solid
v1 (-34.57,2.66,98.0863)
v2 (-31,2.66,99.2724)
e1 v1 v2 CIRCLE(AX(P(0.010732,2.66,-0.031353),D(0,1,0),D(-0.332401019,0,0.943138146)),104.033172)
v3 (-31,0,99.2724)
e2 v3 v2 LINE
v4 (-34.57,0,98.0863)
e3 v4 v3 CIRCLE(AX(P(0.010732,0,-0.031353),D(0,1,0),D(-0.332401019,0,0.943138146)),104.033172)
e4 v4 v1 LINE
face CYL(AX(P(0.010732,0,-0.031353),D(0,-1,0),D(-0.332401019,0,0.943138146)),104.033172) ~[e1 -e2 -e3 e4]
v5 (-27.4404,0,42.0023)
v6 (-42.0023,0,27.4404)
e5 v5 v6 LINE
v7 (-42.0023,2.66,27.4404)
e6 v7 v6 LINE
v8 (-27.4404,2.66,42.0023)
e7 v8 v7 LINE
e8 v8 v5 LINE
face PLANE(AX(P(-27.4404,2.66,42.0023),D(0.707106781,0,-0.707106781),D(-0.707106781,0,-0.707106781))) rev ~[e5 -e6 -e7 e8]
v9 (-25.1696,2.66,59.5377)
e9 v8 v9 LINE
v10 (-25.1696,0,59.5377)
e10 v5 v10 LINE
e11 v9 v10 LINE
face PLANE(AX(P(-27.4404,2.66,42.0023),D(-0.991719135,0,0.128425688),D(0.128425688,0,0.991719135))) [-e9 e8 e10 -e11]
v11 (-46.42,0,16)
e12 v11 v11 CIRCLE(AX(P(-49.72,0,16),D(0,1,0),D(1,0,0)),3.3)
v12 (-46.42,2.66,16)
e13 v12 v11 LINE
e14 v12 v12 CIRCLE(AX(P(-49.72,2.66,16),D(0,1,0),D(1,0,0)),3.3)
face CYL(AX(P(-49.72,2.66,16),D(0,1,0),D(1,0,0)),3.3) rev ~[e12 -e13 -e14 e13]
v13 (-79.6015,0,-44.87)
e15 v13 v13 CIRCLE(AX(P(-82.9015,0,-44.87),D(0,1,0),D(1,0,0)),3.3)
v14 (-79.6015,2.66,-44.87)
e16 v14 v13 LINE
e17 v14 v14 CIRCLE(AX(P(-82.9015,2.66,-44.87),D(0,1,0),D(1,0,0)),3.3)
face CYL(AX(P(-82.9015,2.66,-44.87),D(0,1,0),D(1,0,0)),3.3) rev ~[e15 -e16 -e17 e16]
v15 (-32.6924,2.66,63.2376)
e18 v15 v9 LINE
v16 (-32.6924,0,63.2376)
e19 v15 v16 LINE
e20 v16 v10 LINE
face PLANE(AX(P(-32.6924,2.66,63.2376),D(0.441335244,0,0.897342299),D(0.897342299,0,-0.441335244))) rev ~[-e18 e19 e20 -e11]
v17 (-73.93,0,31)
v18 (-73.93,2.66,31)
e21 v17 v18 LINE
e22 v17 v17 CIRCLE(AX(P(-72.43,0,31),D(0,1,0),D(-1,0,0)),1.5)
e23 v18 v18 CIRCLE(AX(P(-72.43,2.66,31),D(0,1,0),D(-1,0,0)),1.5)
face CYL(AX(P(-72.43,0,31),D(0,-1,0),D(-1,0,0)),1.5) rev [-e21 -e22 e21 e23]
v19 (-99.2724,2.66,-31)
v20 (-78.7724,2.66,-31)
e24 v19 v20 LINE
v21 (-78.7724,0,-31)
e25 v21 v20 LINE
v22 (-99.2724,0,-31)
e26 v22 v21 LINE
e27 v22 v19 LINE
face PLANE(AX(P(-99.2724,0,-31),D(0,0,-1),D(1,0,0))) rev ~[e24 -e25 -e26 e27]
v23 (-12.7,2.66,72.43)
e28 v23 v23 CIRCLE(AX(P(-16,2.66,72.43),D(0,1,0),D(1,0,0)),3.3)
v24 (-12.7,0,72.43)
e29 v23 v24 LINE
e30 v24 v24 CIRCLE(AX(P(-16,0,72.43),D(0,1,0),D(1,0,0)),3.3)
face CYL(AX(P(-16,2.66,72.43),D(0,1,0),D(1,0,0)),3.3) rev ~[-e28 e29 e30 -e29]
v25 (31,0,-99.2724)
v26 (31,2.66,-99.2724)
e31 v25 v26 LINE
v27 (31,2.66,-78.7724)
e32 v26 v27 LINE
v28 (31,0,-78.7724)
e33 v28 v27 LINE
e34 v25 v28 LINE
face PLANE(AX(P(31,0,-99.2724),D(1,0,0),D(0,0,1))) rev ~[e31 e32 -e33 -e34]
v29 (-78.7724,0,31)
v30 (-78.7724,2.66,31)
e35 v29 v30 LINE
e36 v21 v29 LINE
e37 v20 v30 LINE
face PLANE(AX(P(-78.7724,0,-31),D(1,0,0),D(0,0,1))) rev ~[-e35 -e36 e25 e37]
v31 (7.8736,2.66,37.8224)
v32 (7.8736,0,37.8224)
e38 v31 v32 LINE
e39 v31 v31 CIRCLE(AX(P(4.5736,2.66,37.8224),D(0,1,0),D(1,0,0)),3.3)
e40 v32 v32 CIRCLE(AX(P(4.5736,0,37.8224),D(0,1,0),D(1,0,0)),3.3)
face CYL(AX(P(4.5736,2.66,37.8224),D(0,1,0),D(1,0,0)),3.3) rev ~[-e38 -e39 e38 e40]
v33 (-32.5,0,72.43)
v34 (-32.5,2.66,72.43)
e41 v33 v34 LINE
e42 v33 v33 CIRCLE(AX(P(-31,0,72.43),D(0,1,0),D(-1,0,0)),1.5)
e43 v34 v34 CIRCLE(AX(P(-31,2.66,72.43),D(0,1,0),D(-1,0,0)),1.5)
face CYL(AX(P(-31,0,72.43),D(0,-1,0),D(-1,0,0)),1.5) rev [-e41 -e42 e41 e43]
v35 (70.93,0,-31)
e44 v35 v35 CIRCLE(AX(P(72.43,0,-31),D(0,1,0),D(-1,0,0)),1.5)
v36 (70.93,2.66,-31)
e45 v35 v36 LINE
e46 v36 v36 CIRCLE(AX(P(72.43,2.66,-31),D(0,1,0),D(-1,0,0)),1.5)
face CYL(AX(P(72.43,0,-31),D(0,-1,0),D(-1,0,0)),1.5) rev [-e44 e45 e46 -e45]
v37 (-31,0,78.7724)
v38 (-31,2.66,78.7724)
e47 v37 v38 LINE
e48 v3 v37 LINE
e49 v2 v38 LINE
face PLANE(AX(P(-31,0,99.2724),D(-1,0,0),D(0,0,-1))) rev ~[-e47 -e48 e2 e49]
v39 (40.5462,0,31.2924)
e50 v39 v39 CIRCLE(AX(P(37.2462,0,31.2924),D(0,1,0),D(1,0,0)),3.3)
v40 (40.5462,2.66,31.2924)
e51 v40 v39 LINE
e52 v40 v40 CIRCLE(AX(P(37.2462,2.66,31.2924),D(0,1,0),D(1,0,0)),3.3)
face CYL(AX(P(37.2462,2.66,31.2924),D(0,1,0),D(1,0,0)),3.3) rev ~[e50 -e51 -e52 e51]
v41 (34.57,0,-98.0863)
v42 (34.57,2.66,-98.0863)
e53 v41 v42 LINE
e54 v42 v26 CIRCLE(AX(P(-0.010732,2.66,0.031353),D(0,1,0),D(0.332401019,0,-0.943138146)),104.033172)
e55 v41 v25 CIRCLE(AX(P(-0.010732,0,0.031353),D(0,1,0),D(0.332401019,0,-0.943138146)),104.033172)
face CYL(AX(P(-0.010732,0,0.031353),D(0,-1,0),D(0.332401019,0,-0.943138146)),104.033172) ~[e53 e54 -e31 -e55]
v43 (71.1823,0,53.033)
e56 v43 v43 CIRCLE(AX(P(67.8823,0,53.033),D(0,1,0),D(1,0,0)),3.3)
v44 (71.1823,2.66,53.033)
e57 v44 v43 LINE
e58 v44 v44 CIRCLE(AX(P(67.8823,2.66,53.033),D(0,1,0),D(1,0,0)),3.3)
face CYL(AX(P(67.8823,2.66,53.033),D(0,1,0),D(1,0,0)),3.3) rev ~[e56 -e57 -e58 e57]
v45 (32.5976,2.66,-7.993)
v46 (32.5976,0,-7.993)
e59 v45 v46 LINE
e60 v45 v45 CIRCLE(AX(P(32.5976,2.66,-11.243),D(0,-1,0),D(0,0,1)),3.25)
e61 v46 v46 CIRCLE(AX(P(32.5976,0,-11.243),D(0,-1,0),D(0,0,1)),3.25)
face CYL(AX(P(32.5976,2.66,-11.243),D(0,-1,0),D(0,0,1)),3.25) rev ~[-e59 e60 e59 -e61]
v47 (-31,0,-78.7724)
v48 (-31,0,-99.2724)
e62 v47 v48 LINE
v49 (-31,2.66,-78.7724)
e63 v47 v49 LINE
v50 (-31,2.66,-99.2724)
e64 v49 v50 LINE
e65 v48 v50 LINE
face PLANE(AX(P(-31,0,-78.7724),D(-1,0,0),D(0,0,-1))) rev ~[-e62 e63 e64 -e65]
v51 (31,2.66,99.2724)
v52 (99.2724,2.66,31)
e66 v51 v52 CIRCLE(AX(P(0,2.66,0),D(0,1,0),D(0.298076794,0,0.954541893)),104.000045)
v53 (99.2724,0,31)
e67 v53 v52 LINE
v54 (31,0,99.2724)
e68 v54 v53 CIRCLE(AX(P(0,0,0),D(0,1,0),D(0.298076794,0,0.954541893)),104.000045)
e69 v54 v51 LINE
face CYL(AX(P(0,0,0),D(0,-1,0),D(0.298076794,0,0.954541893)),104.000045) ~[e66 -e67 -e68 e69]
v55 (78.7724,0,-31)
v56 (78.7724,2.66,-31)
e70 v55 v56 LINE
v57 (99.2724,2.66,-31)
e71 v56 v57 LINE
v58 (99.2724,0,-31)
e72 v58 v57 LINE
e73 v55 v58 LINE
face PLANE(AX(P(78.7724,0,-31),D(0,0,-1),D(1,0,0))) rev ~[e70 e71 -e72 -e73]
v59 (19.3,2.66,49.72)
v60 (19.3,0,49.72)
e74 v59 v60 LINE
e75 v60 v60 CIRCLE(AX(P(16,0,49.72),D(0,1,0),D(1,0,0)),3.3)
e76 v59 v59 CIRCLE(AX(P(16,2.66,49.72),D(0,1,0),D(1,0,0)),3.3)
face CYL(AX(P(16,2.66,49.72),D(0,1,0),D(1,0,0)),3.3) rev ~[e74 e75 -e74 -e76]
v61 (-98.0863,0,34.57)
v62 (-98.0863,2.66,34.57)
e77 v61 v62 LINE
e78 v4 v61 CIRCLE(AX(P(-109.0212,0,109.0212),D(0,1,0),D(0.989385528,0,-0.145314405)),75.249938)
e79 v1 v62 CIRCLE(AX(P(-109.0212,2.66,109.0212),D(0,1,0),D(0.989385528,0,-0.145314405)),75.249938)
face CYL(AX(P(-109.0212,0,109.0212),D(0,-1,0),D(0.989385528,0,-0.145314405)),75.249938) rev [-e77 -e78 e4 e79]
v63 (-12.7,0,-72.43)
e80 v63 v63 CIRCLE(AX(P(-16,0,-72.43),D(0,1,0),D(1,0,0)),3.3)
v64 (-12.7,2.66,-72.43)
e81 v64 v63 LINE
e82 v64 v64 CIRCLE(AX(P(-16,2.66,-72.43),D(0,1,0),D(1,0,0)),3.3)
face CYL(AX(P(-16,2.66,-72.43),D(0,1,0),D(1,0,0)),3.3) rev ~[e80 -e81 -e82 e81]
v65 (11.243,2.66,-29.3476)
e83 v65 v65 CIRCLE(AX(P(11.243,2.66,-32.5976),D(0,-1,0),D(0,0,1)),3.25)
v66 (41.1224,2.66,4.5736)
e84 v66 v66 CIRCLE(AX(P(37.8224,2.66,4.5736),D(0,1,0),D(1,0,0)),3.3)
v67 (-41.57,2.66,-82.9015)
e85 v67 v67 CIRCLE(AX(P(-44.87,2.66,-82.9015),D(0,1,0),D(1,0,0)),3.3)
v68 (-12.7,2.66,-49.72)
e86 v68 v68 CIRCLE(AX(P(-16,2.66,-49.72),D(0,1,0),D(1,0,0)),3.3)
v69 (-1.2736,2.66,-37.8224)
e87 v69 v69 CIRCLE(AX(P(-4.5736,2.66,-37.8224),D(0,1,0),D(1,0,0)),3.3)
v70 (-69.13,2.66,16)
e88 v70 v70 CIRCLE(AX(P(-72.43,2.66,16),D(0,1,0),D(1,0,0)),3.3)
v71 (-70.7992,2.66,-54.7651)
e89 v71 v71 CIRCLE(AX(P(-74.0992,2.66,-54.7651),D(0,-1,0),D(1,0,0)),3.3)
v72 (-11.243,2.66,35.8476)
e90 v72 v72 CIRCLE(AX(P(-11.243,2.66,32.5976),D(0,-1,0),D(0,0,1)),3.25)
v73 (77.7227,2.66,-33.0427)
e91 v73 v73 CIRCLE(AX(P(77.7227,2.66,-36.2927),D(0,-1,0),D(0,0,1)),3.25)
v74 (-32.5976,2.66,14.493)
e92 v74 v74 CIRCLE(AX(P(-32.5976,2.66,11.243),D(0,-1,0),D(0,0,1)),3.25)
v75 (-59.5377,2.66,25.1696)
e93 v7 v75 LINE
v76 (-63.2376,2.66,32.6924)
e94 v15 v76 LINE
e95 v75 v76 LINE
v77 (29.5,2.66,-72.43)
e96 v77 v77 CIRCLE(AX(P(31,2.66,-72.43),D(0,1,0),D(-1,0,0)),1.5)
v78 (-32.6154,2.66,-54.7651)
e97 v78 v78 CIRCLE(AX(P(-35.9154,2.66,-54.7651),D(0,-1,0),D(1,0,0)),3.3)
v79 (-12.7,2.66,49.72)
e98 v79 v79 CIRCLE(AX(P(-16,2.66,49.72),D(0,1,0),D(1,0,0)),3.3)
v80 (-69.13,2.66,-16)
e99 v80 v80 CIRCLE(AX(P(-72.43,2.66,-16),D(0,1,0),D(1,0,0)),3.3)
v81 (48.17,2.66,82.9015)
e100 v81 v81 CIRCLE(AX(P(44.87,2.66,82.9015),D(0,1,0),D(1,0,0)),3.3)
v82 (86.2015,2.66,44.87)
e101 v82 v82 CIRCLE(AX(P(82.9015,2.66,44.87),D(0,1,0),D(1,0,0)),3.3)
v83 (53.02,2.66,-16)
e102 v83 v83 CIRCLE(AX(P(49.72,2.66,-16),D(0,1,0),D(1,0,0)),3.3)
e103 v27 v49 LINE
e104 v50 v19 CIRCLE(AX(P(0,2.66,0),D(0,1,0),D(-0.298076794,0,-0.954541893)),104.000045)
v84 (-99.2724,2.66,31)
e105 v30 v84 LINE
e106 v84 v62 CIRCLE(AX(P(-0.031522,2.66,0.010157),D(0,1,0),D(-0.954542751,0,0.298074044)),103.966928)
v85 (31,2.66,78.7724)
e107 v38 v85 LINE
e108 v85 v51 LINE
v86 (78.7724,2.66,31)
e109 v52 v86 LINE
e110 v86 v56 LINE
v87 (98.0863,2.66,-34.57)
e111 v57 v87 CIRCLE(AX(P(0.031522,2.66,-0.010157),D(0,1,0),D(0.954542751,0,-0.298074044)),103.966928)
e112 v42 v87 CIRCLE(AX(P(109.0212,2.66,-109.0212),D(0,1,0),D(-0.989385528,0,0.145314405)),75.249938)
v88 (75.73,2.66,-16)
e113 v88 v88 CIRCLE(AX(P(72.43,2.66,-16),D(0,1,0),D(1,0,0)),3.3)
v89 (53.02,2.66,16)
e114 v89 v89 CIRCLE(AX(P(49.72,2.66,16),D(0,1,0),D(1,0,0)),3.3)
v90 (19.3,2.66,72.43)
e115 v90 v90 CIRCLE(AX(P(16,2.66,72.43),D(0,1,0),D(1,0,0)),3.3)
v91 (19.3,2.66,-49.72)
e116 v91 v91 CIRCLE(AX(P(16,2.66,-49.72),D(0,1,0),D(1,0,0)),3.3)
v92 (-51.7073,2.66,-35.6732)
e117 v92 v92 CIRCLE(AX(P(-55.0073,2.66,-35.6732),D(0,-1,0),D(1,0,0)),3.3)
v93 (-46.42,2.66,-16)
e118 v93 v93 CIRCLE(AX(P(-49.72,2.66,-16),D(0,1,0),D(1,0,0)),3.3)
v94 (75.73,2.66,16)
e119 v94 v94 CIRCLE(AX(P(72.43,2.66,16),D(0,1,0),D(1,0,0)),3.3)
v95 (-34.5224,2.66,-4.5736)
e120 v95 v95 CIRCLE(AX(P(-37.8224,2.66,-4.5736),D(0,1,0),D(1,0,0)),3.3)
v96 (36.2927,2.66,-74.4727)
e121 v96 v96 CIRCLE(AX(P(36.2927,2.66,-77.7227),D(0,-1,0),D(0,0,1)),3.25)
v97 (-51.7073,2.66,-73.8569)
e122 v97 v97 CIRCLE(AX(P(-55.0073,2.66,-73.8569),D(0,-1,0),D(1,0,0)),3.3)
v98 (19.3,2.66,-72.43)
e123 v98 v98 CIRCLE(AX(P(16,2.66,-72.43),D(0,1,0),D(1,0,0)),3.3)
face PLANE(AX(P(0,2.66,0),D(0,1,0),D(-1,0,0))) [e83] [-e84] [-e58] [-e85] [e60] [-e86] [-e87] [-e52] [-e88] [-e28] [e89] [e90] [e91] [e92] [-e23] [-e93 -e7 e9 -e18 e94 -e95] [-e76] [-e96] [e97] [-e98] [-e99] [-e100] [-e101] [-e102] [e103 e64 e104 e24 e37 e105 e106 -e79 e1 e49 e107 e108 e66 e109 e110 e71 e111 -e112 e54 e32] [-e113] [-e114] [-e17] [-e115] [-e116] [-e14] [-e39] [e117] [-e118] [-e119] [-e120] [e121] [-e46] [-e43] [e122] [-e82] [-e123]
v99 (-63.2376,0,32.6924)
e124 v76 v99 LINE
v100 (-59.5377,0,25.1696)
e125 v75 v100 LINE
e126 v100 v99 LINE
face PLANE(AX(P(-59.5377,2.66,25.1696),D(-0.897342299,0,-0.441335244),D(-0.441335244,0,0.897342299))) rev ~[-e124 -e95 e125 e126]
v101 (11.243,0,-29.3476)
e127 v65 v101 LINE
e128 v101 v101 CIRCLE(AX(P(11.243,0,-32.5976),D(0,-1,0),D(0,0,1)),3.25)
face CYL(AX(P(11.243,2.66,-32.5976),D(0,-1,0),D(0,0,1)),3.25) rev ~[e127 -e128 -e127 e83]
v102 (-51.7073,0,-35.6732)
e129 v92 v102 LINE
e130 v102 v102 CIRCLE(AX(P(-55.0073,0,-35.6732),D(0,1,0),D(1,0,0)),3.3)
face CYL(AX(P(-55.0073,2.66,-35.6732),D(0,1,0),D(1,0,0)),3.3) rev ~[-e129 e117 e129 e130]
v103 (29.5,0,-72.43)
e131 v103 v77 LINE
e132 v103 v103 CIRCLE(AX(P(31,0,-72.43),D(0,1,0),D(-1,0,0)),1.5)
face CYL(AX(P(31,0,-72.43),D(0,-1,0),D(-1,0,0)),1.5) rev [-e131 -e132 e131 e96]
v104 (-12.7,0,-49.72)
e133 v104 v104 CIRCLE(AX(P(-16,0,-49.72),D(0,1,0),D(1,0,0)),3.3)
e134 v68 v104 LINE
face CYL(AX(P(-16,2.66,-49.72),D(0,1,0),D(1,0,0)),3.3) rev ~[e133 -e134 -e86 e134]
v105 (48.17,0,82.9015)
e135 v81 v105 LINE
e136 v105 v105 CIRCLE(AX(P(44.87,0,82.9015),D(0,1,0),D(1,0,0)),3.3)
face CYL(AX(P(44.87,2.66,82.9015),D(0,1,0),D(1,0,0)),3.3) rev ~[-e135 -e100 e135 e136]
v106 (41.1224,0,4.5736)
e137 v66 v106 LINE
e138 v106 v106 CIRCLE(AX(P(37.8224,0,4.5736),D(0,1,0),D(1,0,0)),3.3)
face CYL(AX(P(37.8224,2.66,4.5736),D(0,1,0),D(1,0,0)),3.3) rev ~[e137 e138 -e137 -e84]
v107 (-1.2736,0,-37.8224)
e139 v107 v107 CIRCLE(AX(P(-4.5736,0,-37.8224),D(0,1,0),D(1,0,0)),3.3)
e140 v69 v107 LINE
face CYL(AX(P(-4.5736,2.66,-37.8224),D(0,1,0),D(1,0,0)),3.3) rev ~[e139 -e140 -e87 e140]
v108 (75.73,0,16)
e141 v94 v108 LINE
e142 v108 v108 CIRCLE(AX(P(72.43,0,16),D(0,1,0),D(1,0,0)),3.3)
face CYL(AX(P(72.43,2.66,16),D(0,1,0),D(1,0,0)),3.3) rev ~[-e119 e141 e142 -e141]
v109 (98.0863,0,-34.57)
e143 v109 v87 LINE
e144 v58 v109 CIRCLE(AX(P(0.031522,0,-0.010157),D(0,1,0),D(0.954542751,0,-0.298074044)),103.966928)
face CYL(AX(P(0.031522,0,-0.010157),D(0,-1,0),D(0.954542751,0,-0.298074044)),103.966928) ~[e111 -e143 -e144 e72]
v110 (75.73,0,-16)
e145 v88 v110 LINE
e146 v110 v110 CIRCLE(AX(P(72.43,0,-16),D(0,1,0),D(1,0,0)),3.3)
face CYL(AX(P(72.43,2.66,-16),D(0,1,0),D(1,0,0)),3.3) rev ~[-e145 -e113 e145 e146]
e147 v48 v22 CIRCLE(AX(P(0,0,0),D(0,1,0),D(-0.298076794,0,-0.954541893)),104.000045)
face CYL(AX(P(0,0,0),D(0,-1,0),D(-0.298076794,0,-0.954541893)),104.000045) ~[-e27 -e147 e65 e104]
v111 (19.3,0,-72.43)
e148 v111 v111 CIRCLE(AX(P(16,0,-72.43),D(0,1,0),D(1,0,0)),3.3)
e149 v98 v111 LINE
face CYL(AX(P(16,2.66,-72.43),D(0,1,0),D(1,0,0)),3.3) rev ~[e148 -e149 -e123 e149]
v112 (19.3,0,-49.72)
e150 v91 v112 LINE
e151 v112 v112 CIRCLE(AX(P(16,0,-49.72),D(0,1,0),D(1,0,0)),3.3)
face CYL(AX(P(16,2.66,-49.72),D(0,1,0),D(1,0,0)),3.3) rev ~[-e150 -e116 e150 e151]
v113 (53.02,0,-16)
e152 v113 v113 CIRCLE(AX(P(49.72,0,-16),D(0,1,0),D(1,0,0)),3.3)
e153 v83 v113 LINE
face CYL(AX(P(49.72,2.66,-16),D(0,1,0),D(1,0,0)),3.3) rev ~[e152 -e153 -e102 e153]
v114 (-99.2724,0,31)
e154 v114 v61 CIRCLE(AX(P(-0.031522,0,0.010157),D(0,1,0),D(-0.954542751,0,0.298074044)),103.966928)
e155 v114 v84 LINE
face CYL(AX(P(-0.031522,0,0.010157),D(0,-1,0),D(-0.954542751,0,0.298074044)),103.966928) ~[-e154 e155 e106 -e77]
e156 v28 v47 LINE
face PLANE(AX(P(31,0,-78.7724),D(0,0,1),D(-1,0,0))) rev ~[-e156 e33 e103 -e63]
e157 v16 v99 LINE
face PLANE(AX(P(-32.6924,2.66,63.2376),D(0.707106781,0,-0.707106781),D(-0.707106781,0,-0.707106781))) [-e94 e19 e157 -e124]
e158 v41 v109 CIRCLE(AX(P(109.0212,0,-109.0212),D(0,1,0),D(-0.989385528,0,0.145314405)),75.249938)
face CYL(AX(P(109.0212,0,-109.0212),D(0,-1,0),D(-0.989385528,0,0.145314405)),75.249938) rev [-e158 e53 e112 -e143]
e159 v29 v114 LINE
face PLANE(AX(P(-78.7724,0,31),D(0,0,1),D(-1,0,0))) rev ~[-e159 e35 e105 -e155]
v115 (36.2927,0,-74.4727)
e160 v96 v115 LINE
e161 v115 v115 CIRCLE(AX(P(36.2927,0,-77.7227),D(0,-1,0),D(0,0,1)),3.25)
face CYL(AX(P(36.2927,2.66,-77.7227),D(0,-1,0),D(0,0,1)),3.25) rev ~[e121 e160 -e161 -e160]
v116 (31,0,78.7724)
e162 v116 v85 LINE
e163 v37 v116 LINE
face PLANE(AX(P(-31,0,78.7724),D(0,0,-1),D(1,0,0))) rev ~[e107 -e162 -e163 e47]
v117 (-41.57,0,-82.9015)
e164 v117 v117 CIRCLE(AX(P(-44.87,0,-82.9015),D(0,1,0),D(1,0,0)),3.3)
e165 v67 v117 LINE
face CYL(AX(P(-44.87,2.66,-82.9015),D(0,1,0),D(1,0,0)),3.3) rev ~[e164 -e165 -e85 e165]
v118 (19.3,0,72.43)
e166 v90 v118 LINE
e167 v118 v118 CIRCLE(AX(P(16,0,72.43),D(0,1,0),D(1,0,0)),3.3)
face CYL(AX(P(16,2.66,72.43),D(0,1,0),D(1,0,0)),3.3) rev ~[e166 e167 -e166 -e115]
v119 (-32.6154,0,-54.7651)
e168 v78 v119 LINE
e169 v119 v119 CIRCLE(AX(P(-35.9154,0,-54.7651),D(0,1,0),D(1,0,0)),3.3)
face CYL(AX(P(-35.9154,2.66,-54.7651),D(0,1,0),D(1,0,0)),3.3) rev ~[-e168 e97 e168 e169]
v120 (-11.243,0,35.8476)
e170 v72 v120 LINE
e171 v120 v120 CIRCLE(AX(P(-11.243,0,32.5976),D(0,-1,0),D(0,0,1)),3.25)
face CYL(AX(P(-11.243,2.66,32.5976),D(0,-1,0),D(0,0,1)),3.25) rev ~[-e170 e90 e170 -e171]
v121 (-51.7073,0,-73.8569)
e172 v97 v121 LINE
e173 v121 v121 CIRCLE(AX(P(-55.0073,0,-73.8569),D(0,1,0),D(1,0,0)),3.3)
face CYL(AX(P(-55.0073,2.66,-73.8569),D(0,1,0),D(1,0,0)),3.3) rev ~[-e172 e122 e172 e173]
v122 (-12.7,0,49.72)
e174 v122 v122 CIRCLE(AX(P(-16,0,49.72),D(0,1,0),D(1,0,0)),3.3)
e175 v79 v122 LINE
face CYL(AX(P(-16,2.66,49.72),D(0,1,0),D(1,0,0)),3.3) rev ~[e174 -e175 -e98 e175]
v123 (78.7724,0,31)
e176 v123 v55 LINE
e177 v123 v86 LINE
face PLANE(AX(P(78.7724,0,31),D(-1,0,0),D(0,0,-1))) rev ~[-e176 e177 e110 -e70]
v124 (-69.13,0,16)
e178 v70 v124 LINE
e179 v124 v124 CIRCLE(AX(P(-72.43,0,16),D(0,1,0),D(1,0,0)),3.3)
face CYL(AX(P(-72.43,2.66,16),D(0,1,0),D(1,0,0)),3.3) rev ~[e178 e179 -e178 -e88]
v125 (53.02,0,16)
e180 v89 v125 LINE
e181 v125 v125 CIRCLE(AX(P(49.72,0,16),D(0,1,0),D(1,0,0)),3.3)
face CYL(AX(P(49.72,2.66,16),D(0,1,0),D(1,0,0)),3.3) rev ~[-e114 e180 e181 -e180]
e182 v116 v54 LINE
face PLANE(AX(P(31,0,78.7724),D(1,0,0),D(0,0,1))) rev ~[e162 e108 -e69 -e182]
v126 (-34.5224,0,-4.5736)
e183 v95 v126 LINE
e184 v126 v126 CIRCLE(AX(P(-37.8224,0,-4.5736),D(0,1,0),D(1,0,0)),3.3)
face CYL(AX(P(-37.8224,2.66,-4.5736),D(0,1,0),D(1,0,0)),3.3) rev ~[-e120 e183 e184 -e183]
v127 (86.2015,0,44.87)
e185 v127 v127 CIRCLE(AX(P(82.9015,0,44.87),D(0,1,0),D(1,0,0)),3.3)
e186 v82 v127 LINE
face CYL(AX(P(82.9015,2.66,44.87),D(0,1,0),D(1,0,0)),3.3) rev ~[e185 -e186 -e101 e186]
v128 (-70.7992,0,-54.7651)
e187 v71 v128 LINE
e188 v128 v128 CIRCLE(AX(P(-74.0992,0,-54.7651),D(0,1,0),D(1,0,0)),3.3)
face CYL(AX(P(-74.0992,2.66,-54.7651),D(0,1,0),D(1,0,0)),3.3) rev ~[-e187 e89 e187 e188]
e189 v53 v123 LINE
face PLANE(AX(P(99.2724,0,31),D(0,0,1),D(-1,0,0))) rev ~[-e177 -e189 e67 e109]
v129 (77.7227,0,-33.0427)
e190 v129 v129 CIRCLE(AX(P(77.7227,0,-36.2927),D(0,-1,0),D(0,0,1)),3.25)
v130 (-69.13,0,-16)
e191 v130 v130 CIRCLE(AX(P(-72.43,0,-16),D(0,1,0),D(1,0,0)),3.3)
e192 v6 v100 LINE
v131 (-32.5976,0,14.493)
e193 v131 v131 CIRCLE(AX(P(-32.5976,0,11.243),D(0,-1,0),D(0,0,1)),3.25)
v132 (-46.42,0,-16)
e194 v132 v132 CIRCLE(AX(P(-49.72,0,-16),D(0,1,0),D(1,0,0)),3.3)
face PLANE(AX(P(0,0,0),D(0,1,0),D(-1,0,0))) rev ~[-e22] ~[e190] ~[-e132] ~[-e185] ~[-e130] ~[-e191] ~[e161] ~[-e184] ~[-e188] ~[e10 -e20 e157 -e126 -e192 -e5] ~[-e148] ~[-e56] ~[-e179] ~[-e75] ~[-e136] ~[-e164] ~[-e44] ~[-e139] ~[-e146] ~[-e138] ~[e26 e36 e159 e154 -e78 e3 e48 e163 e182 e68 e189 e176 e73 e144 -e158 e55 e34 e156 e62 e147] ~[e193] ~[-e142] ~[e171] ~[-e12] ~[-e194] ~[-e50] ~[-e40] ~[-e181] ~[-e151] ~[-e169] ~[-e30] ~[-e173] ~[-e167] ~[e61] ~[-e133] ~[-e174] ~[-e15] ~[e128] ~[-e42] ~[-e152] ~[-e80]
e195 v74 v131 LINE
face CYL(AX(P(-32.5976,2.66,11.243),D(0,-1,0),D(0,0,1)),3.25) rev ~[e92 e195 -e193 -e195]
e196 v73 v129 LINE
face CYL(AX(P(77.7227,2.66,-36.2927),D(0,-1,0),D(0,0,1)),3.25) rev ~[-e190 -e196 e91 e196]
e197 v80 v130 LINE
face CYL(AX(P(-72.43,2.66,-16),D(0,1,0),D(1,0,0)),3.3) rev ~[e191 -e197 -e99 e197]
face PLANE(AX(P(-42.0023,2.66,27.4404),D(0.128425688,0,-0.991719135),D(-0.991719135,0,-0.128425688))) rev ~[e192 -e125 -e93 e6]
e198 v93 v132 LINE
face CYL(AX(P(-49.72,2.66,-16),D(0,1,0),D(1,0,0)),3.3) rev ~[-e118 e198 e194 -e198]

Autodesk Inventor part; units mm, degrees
ref_plane "YZ Plane" through (0, 0, 0) normal (1, 0, 0) x (0, 1, 0)
ref_plane "XZ Plane" through (0, 0, 0) normal (0, 1, 0) x (-1, 0, 0)
ref_plane "XY Plane" through (0, 0, 0) normal (0, 0, 1) x (1, 0, 0)
sketch "Эскиз3" plane through (0, 0, 0) normal (0, 1, 0) x (-1, 0, 0)
  line L0 (-54.5982, 80.4592) -> (-22.4528, 48.3138) construction
  line L1 (-22.4528, 48.3138) -> (-48.3138, 22.4528) construction
  line L2 (-48.3138, 22.4528) -> (-80.4592, 54.5982) construction
  line L3 (-80.4592, 54.5982) -> (-54.5982, 80.4592) construction
  line L4 (32.5269, -55.8614) -> (55.8614, -32.5269) construction
  line L5 (55.8614, -32.5269) -> (79.196, -55.8614) construction
  line L6 (79.196, -55.8614) -> (55.8614, -79.196) construction
  line L7 (55.8614, -79.196) -> (32.5269, -55.8614) construction
  circle A0 centre (0, 0) radius 20
  circle A1 centre (16, -72.43) radius 1.5
  circle A2 centre (16, -49.72) radius 1.5
  circle A3 centre (49.72, -16) radius 1.5
  circle A4 centre (49.72, 16) radius 1.5
  circle A5 centre (72.43, 31) radius 1.5
  circle A6 centre (-44.87, 82.9015) radius 1.5
  circle A7 centre (31, 72.43) radius 1.5
  circle A8 centre (72.43, 16) radius 1.5
  circle A9 centre (-49.72, 16) radius 1.5
  circle A10 centre (-49.72, -16) radius 1.5
  circle A11 centre (-16, -49.72) radius 1.5
  circle A12 centre (-16, -72.43) radius 1.5
  circle A13 centre (-72.43, -31) radius 1.5
  circle A14 centre (72.43, -16) radius 1.5
  circle A15 centre (16, 49.72) radius 1.5
  circle A16 centre (-82.9015, 44.87) radius 1.5
  circle A17 centre (-16, 72.43) radius 1.5
  circle A18 centre (44.87, -82.9015) radius 1.5
  circle A19 centre (16, 72.43) radius 1.5
  circle A20 centre (-16, 49.72) radius 1.5
  circle A21 centre (-72.43, 16) radius 1.5
  circle A22 centre (-72.43, -16) radius 1.5
  circle A23 centre (-31, -72.43) radius 1.5
  circle A24 centre (82.9015, -44.87) radius 1.5
  arc A25 (-34.57, -98.0863) -> (-98.0863, -34.57) centre (-109.0212, -109.0212) ccw
  arc A26 (-34.57, -98.0863) -> (-31, -99.2724) centre (0, 0) ccw
  line L8 (-31, -99.2724) -> (-31, -78.7724)
  line L9 (-31, -78.7724) -> (31, -78.7724)
  line L10 (31, -78.7724) -> (31, -99.2724)
  arc A27 (31, -99.2724) -> (99.2724, -31) centre (0, 0) ccw
  line L11 (99.2724, -31) -> (78.7724, -31)
  line L12 (78.7724, -31) -> (78.7724, 31)
  line L13 (78.7724, 31) -> (99.2724, 31)
  arc A28 (99.2724, 31) -> (98.0863, 34.57) centre (0, 0) ccw
  arc A29 (34.57, 98.0863) -> (98.0863, 34.57) centre (109.0212, 109.0212) ccw
  arc A30 (34.57, 98.0863) -> (31, 99.2724) centre (0, 0) ccw
  line L14 (31, 99.2724) -> (31, 78.7724)
  line L15 (31, 78.7724) -> (-31, 78.7724)
  line L16 (-31, 78.7724) -> (-31, 99.2724)
  arc A31 (-31, 99.2724) -> (-99.2724, 31) centre (0, 0) ccw
  line L17 (-99.2724, 31) -> (-78.7724, 31)
  line L18 (-78.7724, 31) -> (-78.7724, -31)
  line L19 (-78.7724, -31) -> (-99.2724, -31)
  arc A32 (-99.2724, -31) -> (-98.0863, -34.57) centre (0, 0) ccw
  line L20 (49.72, -49.72) -> (-49.72, -49.72)
  line L21 (-49.72, -49.72) -> (-49.72, 49.72)
  line L22 (-49.72, 49.72) -> (49.72, 49.72)
  line L23 (49.72, 49.72) -> (49.72, -49.72)
  line L24 (72.43, 16) -> (49.72, 16) construction
  line L25 (16, -72.43) -> (16, -49.72) construction
  line L26 (-72.43, 16) -> (-49.72, 16) construction
  line L27 (16, 72.43) -> (16, 49.72) construction
  line L28 (49.72, -49.72) -> (-49.72, 49.72) construction
  dimension "d36" = 99.44
  dimension "d37" = 32
  dimension "d38" = 32
  dimension "d39" = 32
  dimension "d40" = 32
extrude "Выдавливание1" add sketch "Эскиз3" along normal blind 2.66 contours A0 | A2 L20 A11 L21 A10 A9 L22 A20 A15 L23 A4 A3 | A25 A32 L19 L18 L17 A31 L16 L15 L14 A30 A29 A28 L13 L12 L11 A27 L10 L9 L8 A26
sketch "Эскиз5" plane through (0, 2.66, 0) normal (0, 1, 0) x (1, 0, 0)
  line L0 (31, 78.7724) -> (-31, 78.7724) projected
  line L1 (-31, 78.7724) -> (-31, 99.2724) projected
  arc A0 (-31, 99.2724) -> (-99.2724, 31) centre (0, 0) ccw projected
  line L2 (-99.2724, 31) -> (-78.7724, 31) projected
  line L3 (-78.7724, 31) -> (-78.7724, -31) projected
  line L4 (-78.7724, -31) -> (-99.2724, -31) projected
  arc A1 (-99.2724, -31) -> (-98.0863, -34.57) centre (0, 0) ccw projected
  arc A2 (-34.57, -98.0863) -> (-98.0863, -34.57) centre (-109.0212, -109.0212) ccw projected
  arc A3 (-34.57, -98.0863) -> (-31, -99.2724) centre (0, 0) ccw projected
  line L5 (-31, -99.2724) -> (-31, -78.7724) projected
  line L6 (-31, -78.7724) -> (31, -78.7724) projected
  line L7 (31, -78.7724) -> (31, -99.2724) projected
  arc A4 (31, -99.2724) -> (99.2724, -31) centre (0, 0) ccw projected
  line L8 (99.2724, -31) -> (78.7724, -31) projected
  line L9 (78.7724, -31) -> (78.7724, 31) projected
  line L10 (78.7724, 31) -> (99.2724, 31) projected
  arc A5 (99.2724, 31) -> (98.0863, 34.57) centre (0, 0) ccw projected
  arc A6 (34.57, 98.0863) -> (98.0863, 34.57) centre (109.0212, 109.0212) ccw projected
  arc A7 (34.57, 98.0863) -> (31, 99.2724) centre (0, 0) ccw projected
  line L11 (31, 99.2724) -> (31, 78.7724) projected
  circle A8 centre (31, 72.43) radius 1.5 construction
  circle A9 centre (72.43, -16) radius 1.5 projected
  circle A10 centre (-16, -72.43) radius 1.5 projected
  circle A11 centre (-16, -49.72) radius 1.5 projected
  circle A12 centre (72.43, 31) radius 1.5 projected
  circle A13 centre (16, 49.72) radius 1.5 projected
  circle A14 centre (49.72, -16) radius 1.5 projected
  circle A15 centre (-16, 72.43) radius 1.5 projected
  circle A16 centre (-16, 49.72) radius 1.5 projected
  circle A17 centre (-49.72, 16) radius 1.5 projected
  circle A18 centre (-49.72, -16) radius 1.5 projected
  circle A19 centre (-72.43, -31) radius 1.5 projected
  circle A20 centre (-31, -72.43) radius 1.5 projected
  circle A21 centre (-72.43, -16) radius 1.5 projected
  circle A22 centre (49.72, 16) radius 1.5 projected
  circle A23 centre (16, 72.43) radius 1.5 projected
  circle A24 centre (-72.43, 16) radius 1.5 projected
  circle A25 centre (16, -72.43) radius 1.5 projected
  circle A26 centre (16, -49.72) radius 1.5 projected
  circle A27 centre (72.43, 16) radius 1.5 projected
  circle A28 centre (82.9015, -44.87) radius 1.5 projected
  circle A29 centre (-82.9015, 44.87) radius 1.5 projected
  circle A30 centre (-44.87, 82.9015) radius 1.5 projected
  circle A31 centre (44.87, -82.9015) radius 1.5 projected
  circle A32 centre (-31, -72.43) radius 3.3 construction
  circle A33 centre (-16, -72.43) radius 3.3
  circle A34 centre (-16, -49.72) radius 1.5 projected
  circle A35 centre (-16, -49.72) radius 3.3
  circle A36 centre (-49.72, -16) radius 1.5 projected
  circle A37 centre (-49.72, -16) radius 3.3
  circle A38 centre (-49.72, 16) radius 3.3
  circle A39 centre (-72.43, -31) radius 1.5 projected
  circle A40 centre (-72.43, -31) radius 3.3 construction
  circle A41 centre (-72.43, -16) radius 1.5 projected
  circle A42 centre (-72.43, -16) radius 3.3
  circle A43 centre (-72.43, 16) radius 1.5 projected
  circle A44 centre (-72.43, 16) radius 3.3
  circle A45 centre (-16, 49.72) radius 1.5 projected
  circle A46 centre (-16, 49.72) radius 3.3
  circle A47 centre (16, 49.72) radius 1.5 projected
  circle A48 centre (16, 49.72) radius 3.3
  circle A49 centre (49.72, 16) radius 1.5 projected
  circle A50 centre (49.72, 16) radius 3.3
  circle A51 centre (49.72, -16) radius 1.5 projected
  circle A52 centre (49.72, -16) radius 3.3
  circle A53 centre (16, -49.72) radius 1.5 projected
  circle A54 centre (16, -49.72) radius 3.3
  circle A55 centre (16, -72.43) radius 1.5 projected
  circle A56 centre (16, -72.43) radius 3.3
  circle A57 centre (44.87, -82.9015) radius 1.5 projected
  circle A58 centre (44.87, -82.9015) radius 3.3
  circle A59 centre (82.9015, -44.87) radius 1.5 projected
  circle A60 centre (82.9015, -44.87) radius 3.3
  circle A61 centre (72.43, -16) radius 3.3
  circle A62 centre (72.43, 16) radius 1.5 projected
  circle A63 centre (72.43, 16) radius 3.3
  circle A64 centre (72.43, 31) radius 1.5 projected
  circle A65 centre (72.43, 31) radius 3.3 construction
  circle A66 centre (31, 72.43) radius 3.3 construction
  circle A67 centre (16, 72.43) radius 1.5 projected
  circle A68 centre (16, 72.43) radius 3.3
  circle A69 centre (-82.9015, 44.87) radius 3.3
  circle A70 centre (-44.87, 82.9015) radius 3.3
  circle A71 centre (-16, 72.43) radius 1.5 projected
  circle A72 centre (-16, 72.43) radius 3.3
  line L12 (-55.8614, 32.5269) -> (-79.196, 55.8614) projected
  dimension "d2" = 6.6
extrude "Выдавливание2" cut sketch "Эскиз5" against normal blind 2.66 contours A9 | A11 | A13 | A14 | A15 | A16 | A17 | A18 | A22 | A23 | A24 | A25 | A26 | A27 | A28 | A29 | A30 | A31 | A33 | A35 | A37 | A38 | A42 | A44 | A46 | A48 | A50 | A52 | A54 | A56 | A58 | A60 | A61 | A63 | A68 | A69 | A70 | A72
sketch "Эскиз6" plane through (0, 2.66, 0) normal (0, 1, 0) x (1, 0, 0)
  circle A0 centre (-72.43, -16) radius 3.3 construction
  circle A1 centre (-16, -72.43) radius 3.3 construction
  line L0 (-72.43, -31) -> (-72.43, -16) construction
  line L1 (-31, -72.43) -> (-16, -72.43) construction
  line L2 (-32.6924, -63.2376) -> (-63.2376, -32.6924)
  circle A2 centre (-16, -49.72) radius 3.3 construction
  circle A3 centre (-49.72, -16) radius 3.3 construction
  line L3 (-16, -42.22) -> (-42.22, -16) construction
  line L4 (-42.0023, -27.4404) -> (-59.5377, -25.1696)
  line L5 (-27.4404, -42.0023) -> (-25.1696, -59.5377)
  line L6 (-63.2376, -32.6924) -> (-59.5377, -25.1696) construction
  line L7 (-32.6924, -63.2376) -> (-25.1696, -59.5377) construction
  line L8 (-27.4404, -42.0023) -> (-42.0023, -27.4404) construction
  line L9 (-27.4404, -42.0023) -> (-42.0023, -27.4404)
  line L10 (-59.5377, -25.1696) -> (-63.2376, -32.6924)
  line L11 (-32.6924, -63.2376) -> (-25.1696, -59.5377)
  line L12 (32.6924, 63.2376) -> (63.2376, 32.6924)
  line L13 (42.0023, 27.4404) -> (59.5377, 25.1696)
  line L14 (63.2376, 32.6924) -> (59.5377, 25.1696)
  line L15 (32.6924, 63.2376) -> (25.1696, 59.5377)
  line L16 (27.4404, 42.0023) -> (25.1696, 59.5377)
  line L17 (27.4404, 42.0023) -> (42.0023, 27.4404)
  circle A4 centre (-72.43, -31) radius 1.5 projected
  point P0 (0, 0)
  point P1 (-23.5, -72.43)
  point P2 (-72.43, -23.5)
  point P3 (-29.11, -29.11)
  point P4 (72.43, 23.5)
  point P5 (23.5, 72.43)
  point P6 (29.11, 29.11)
  dimension "d7" = 13
  dimension "d8" = 13
  dimension "d9" = 13
  dimension "d10" = 13
  dimension "d11" = 13
  dimension "d12" = 13
  dimension "d15" = 360
extrude "Выдавливание3" cut sketch "Эскиз6" against normal blind 2.66 contours L2 L10 L4 L9 L5 L11
sketch "Эскиз7" plane through (0, 2.66, 0) normal (0, 1, 0) x (1, 0, 0)
  line L0 (-42.0023, -27.4404) -> (-27.4404, -42.0023) projected
  line L1 (-27.4404, -42.0023) -> (-25.1696, -59.5377) projected
  line L2 (-25.1696, -59.5377) -> (-32.6924, -63.2376) projected
  line L3 (-32.6924, -63.2376) -> (-63.2376, -32.6924) projected
  line L4 (-63.2376, -32.6924) -> (-59.5377, -25.1696) projected
  line L5 (-59.5377, -25.1696) -> (-42.0023, -27.4404) projected
  circle A0 centre (-72.43, 16) radius 3.3 projected
  circle A1 centre (44.87, -82.9015) radius 3.3 projected
  circle A2 centre (49.72, 16) radius 3.3 projected
  circle A3 centre (-44.87, 82.9015) radius 3.3 projected
  circle A4 centre (-49.72, 16) radius 3.3 projected
  circle A5 centre (-82.9015, 44.87) radius 3.3 projected
  circle A6 centre (-16, 49.72) radius 3.3 projected
  circle A7 centre (72.43, -16) radius 3.3 projected
  circle A8 centre (16, -72.43) radius 3.3 projected
  circle A9 centre (-16, -72.43) radius 3.3 projected
  circle A10 centre (-49.72, -16) radius 3.3 projected
  circle A11 centre (16, -49.72) radius 3.3 projected
  circle A12 centre (16, 49.72) radius 3.3 projected
  circle A13 centre (16, 72.43) radius 3.3 projected
  circle A14 centre (49.72, -16) radius 3.3 projected
  circle A15 centre (72.43, 16) radius 3.3 projected
  circle A16 centre (-16, 72.43) radius 3.3 projected
  circle A17 centre (82.9015, -44.87) radius 3.3 projected
  circle A18 centre (-16, -49.72) radius 3.3 projected
  circle A19 centre (-72.43, -16) radius 3.3 projected
  line L6 (31, 78.7724) -> (-31, 78.7724) projected
  line L7 (-31, 78.7724) -> (-31, 99.2724) projected
  arc A20 (-31, 99.2724) -> (-99.2724, 31) centre (0, 0) ccw projected
  line L8 (-99.2724, 31) -> (-78.7724, 31) projected
  line L9 (-78.7724, 31) -> (-78.7724, -31) projected
  line L10 (-78.7724, -31) -> (-99.2724, -31) projected
  arc A21 (-99.2724, -31) -> (-98.0863, -34.57) centre (0, 0) ccw projected
  arc A22 (-34.57, -98.0863) -> (-98.0863, -34.57) centre (-109.0212, -109.0212) ccw projected
  arc A23 (-34.57, -98.0863) -> (-31, -99.2724) centre (0, 0) ccw projected
  line L11 (-31, -99.2724) -> (-31, -78.7724) projected
  line L12 (-31, -78.7724) -> (31, -78.7724) projected
  line L13 (31, -78.7724) -> (31, -99.2724) projected
  arc A24 (31, -99.2724) -> (99.2724, -31) centre (0, 0) ccw projected
  line L14 (99.2724, -31) -> (78.7724, -31) projected
  line L15 (78.7724, -31) -> (78.7724, 31) projected
  line L16 (78.7724, 31) -> (99.2724, 31) projected
  arc A25 (99.2724, 31) -> (98.0863, 34.57) centre (0, 0) ccw projected
  arc A26 (34.57, 98.0863) -> (98.0863, 34.57) centre (109.0212, 109.0212) ccw projected
  arc A27 (34.57, 98.0863) -> (31, 99.2724) centre (0, 0) ccw projected
  line L17 (31, 99.2724) -> (31, 78.7724) projected
  circle A28 centre (31, 72.43) radius 1.5 projected
  circle A29 centre (72.43, 31) radius 1.5 projected
  circle A30 centre (-72.43, -31) radius 1.5 projected
  circle A31 centre (-31, -72.43) radius 1.5 projected
  line L18 (31, 78.7724) -> (78.7724, 31) construction
  circle A32 centre (31, 72.43) radius 3.5 construction
  circle A33 centre (72.43, 31) radius 1.5 construction
  circle A34 centre (72.43, 31) radius 3.5 construction
  arc A35 (35.3732, 74.3992) -> (74.3992, 35.3732) centre (63.1933, 63.1933) ccw construction
  line L19 (-47.0226, -10.253) -> (10.253, 47.0226) construction
  line L20 (10.253, 47.0226) -> (47.0226, 10.253) construction
  line L21 (47.0226, 10.253) -> (-10.253, -47.0226) construction
  line L22 (-10.253, -47.0226) -> (-47.0226, -10.253) construction
  line L23 (-47.0226, -10.253) -> (47.0226, 10.253) construction
  dimension "d19" = 7
  dimension "d20" = 7
  dimension "d21" = 81
  dimension "d22" = 52
sketch "Эскиз9" plane through (0, 2.66, 0) normal (0, 1, 0) x (1, 0, 0)
  circle A0 centre (0, 0) radius 20
  circle A1 centre (16, -72.43) radius 1.5
  circle A2 centre (16, -42.22) radius 1.5
  circle A3 centre (42.22, -16) radius 1.5
  circle A4 centre (42.22, 16) radius 1.5
  circle A5 centre (72.43, 31) radius 1.5
  circle A6 centre (-44.87, 82.9015) radius 1.5
  circle A7 centre (31, 72.43) radius 1.5
  circle A8 centre (72.43, 16) radius 1.5
  circle A9 centre (-42.22, 16) radius 1.5
  circle A10 centre (-42.22, -16) radius 1.5
  circle A11 centre (-16, -42.22) radius 1.5
  circle A12 centre (-16, -72.43) radius 1.5
  circle A13 centre (-72.43, -31) radius 1.5
  circle A14 centre (72.43, -16) radius 1.5
  circle A15 centre (16, 42.22) radius 1.5
  circle A16 centre (-82.9015, 44.87) radius 1.5
  circle A17 centre (-16, 72.43) radius 1.5
  circle A18 centre (44.87, -82.9015) radius 1.5
  circle A19 centre (16, 72.43) radius 1.5
  circle A20 centre (-16, 42.22) radius 1.5
  circle A21 centre (-72.43, 16) radius 1.5
  circle A22 centre (-72.43, -16) radius 1.5
  circle A23 centre (-31, -72.43) radius 1.5
  circle A24 centre (82.9015, -44.87) radius 1.5
  arc A25 (-34.57, -98.0863) -> (-98.0863, -34.57) centre (-109.0212, -109.0212) ccw
  arc A26 (-34.57, -98.0863) -> (-31, -99.2724) centre (0, 0) ccw
  line L0 (-31, -99.2724) -> (-31, -78.7724)
  line L1 (-31, -78.7724) -> (31, -78.7724)
  line L2 (31, -78.7724) -> (31, -99.2724)
  arc A27 (31, -99.2724) -> (99.2724, -31) centre (0, 0) ccw
  line L3 (99.2724, -31) -> (78.7724, -31)
  line L4 (78.7724, -31) -> (78.7724, 31)
  line L5 (78.7724, 31) -> (99.2724, 31)
  arc A28 (99.2724, 31) -> (98.0863, 34.57) centre (0, 0) ccw
  arc A29 (34.57, 98.0863) -> (98.0863, 34.57) centre (109.0212, 109.0212) ccw
  arc A30 (34.57, 98.0863) -> (31, 99.2724) centre (0, 0) ccw
  line L6 (31, 99.2724) -> (31, 78.7724)
  line L7 (31, 78.7724) -> (-31, 78.7724)
  line L8 (-31, 78.7724) -> (-31, 99.2724)
  arc A31 (-31, 99.2724) -> (-99.2724, 31) centre (0, 0) ccw
  line L9 (-99.2724, 31) -> (-78.7724, 31)
  line L10 (-78.7724, 31) -> (-78.7724, -31)
  line L11 (-78.7724, -31) -> (-99.2724, -31)
  arc A32 (-99.2724, -31) -> (-98.0863, -34.57) centre (0, 0) ccw
  circle A33 centre (-27.2915, 48.1257) radius 1.397 construction
  circle A34 centre (-48.1257, 27.2915) radius 1.397 construction
  circle A35 centre (-27.2915, 48.1257) radius 1.397 construction
  circle A36 centre (-48.1257, 27.2915) radius 1.397 construction
  circle A37 centre (31.2924, -37.2462) radius 1.6 construction
  circle A38 centre (53.033, -67.8823) radius 1.6 construction
  circle A39 centre (31.2924, -37.2462) radius 3.3 construction
  circle A40 centre (53.033, -67.8823) radius 3.3 construction
  circle A41 centre (-27.2915, 48.1257) radius 3.3 construction
  circle A42 centre (-48.1257, 27.2915) radius 3.3 construction
  circle A43 centre (-49.72, 16) radius 3.3 projected
  line L12 (0, 0) -> (73.5391, -73.5391) construction
  arc A44 (31, -99.2724) -> (99.2724, -31) centre (0, 0) ccw projected
  circle A45 centre (37.2462, -31.2924) radius 3.3
  circle A46 centre (67.8823, -53.033) radius 3.3
extrude "Выдавливание6" cut sketch "Эскиз9" against normal through all contours A45 | A46
sketch "Эскиз11" plane through (0, 2.66, 0) normal (0, 1, 0) x (1, 0, 0)
  arc A0 (-75.5134, 56.8864) -> (-75.5134, 52.6437) centre (-73.3921, 54.7651) ccw
  line L0 (-75.5134, 52.6437) -> (-57.1286, 34.259)
  arc A1 (-57.1286, 34.259) -> (-52.886, 34.259) centre (-55.0073, 36.3803) ccw
  line L1 (-52.886, 34.259) -> (-34.5012, 52.6437)
  arc A2 (-34.5012, 52.6437) -> (-34.5012, 56.8864) centre (-36.6225, 54.7651) ccw
  line L2 (-34.5012, 56.8864) -> (-52.886, 75.2712)
  arc A3 (-52.886, 75.2712) -> (-57.1286, 75.2712) centre (-55.0073, 73.1498) ccw
  line L3 (-57.1286, 75.2712) -> (-75.5134, 56.8864)
  circle A4 centre (-62.7855, 48.7546) radius 0.5
  circle A5 centre (-55.0073, 73.8569) radius 1.6
  circle A6 centre (-74.0992, 54.7651) radius 1.6
  circle A7 centre (-55.0073, 35.6732) radius 1.6
  circle A8 centre (-61.0177, 39.9158) radius 0.5
  circle A9 centre (-55.7144, 41.6836) radius 0.5
  circle A10 centre (-57.4822, 43.4513) radius 0.5
  circle A11 centre (-59.2499, 45.2191) radius 0.5
  circle A12 centre (-61.0177, 46.9869) radius 0.5
  circle A13 centre (-43.6936, 64.311) radius 0.5
  circle A14 centre (-41.9258, 62.5432) radius 0.5
  circle A15 centre (-62.7855, 41.6836) radius 0.5
  circle A16 centre (-59.2499, 38.148) radius 0.5
  circle A17 centre (-53.9466, 39.9158) radius 0.5
  circle A18 centre (-35.9154, 54.7651) radius 1.6
  circle A19 centre (-40.1581, 60.7755) radius 0.5
  circle A20 centre (-38.3903, 59.0077) radius 0.5
  circle A21 centre (-64.5532, 50.5224) radius 0.5
  circle A22 centre (-66.321, 45.2191) radius 0.5
  circle A23 centre (-64.5532, 43.4513) radius 0.5
  circle A24 centre (-68.0888, 46.9869) radius 0.5
  circle A25 centre (-69.8565, 48.7546) radius 0.5
  circle A26 centre (-71.6243, 50.5224) radius 0.5
  line L4 (-48.4368, -10.253) -> (9.5459, 47.7297)
  line L5 (-19.4454, 18.7383) -> (-73.5391, 73.5391) construction
  arc A27 (-31, 99.2724) -> (-99.2724, 31) centre (0, 0) ccw
  line L6 (31, 78.7724) -> (-31, 78.7724)
  line L7 (-78.7724, 31) -> (-31, 78.7724) construction
  circle A28 centre (-74.0992, 54.7651) radius 3.3
  circle A29 centre (-55.0073, 73.8569) radius 3.3
  circle A30 centre (-55.0073, 35.6732) radius 3.3
  circle A31 centre (-35.9154, 54.7651) radius 3.3
  circle A32 centre (-72.43, 16) radius 3.3 projected
  point P0 (-55.0073, 54.7651)
  point P1 (-55.0073, 54.7651)
extrude "Выдавливание7" cut sketch "Эскиз11" against normal through all contours L3 A28 L0 A0 | A0 L0 A28 L3 | A29 L2 A3 L3 | L3 A3 L2 A29 | A30 L1 A1 L0 | L0 A1 L1 A30 | A31 L1 A2 L2 | L2 A2 L1 A31 | A5 | A6 | A7 | A18
sketch "Эскиз12" plane through (0, 2.66, 0) normal (0, 1, 0) x (1, 0, 0)
  circle A0 centre (49.1515, 117.5129) radius 1.65
  circle A1 centre (49.1515, 117.5129) radius 3.35
  circle A2 centre (3.9014, 156.8484) radius 1.65
  circle A3 centre (80, 152.9999) radius 1.65
  circle A4 centre (34.7499, 192.3354) radius 1.65
  circle A5 centre (41.9507, 154.9241) radius 41.494
  line L0 (45.9767, 118.5821) -> (51.7025, 119.6842)
  arc A6 (39.3031, 113.5146) -> (45.9767, 118.5821) centre (26.7374, 136.9912) ccw
  arc A7 (51.7025, 119.6842) -> (59.7803, 117.456) centre (62.7338, 143.9197) ccw
  arc A8 (78.4993, 155.995) -> (82.5887, 163.3089) centre (57.5919, 172.4852) ccw
  circle A9 centre (80, 152.9999) radius 3.35
  arc A10 (81.5355, 142.4824) -> (78.2048, 150.1715) centre (55.7405, 135.8747) ccw
  arc A11 (5.402, 153.8533) -> (1.3126, 146.5394) centre (26.3095, 137.3631) ccw
  circle A12 centre (3.9014, 156.8484) radius 3.35
  arc A13 (2.3659, 167.3659) -> (5.6965, 159.6768) centre (28.1609, 173.9736) ccw
  arc A14 (32.1989, 190.1641) -> (24.1211, 192.3923) centre (21.1675, 165.9286) ccw
  circle A15 centre (34.7499, 192.3354) radius 3.35
  arc A16 (44.5983, 196.3336) -> (37.9247, 191.2662) centre (57.1641, 172.8571) ccw
  line L1 (39.3031, 113.5146) -> (59.7803, 117.456) construction
  line L2 (-47.0226, -10.253) -> (10.253, 47.0226) construction
  line L3 (2.3659, 167.3659) -> (59.7803, 117.456) construction
  line L4 (24.121, 192.3922) -> (81.5355, 142.4824) construction
  line L5 (1.3126, 146.5394) -> (44.5983, 196.3336) construction
  line L6 (82.5887, 163.3089) -> (39.3031, 113.5146) construction
  circle A17 centre (41.9507, 154.9241) radius 38.0979 construction
  line L7 (45.9767, 118.5821) -> (46.9111, 113.7277) construction
  line L8 (78.2048, 150.1715) -> (78.4993, 155.995) construction
  line L9 (41.9507, 154.9241) -> (80, 152.9999) construction
  line L10 (41.9507, 154.9241) -> (34.7499, 192.3354) construction
  line L11 (41.9507, 154.9241) -> (3.9014, 156.8484) construction
  line L12 (5.6965, 159.6768) -> (5.402, 153.8533) construction
  line L13 (32.1989, 190.1641) -> (37.9247, 191.2662) construction
  line L14 (41.9507, 154.9241) -> (49.1515, 117.5129) construction
  circle A18 centre (-37.8224, 4.5736) radius 3.3
  circle A19 centre (-4.5736, 37.8224) radius 3.3
  circle A20 centre (4.5736, -37.8224) radius 3.3
  circle A21 centre (37.8224, -4.5736) radius 3.3
  circle A22 centre (16, -49.72) radius 3.3 projected
  line L15 (-37.8224, 4.5736) -> (-4.5736, 37.8224) construction
  line L16 (4.5736, -37.8224) -> (37.8224, -4.5736) construction
  line L17 (-21.198, 21.198) -> (21.198, -21.198) construction
  line L18 (-4.5736, 37.8224) -> (37.8224, -4.5736) construction
  point P0 (0, 0)
  point P1 (-47.6168, 71.9305)
  point P2 (-60.3824, 55.6528)
  point P3 (-60.3824, 22.3934)
  point P4 (-47.6168, 6.1158)
  point P5 (2.7831, 6.1158)
  point P6 (15.5487, 22.3934)
  point P7 (15.2441, 55.8587)
  point P8 (2.9104, 71.5855)
  point P9 (0, 0)
  dimension "d41" = 82.9881
  dimension "d31" = 3.3
  dimension "d32" = 6.7
  dimension "d42" = 26.6279
  dimension "d43" = 20.4772
  dimension "d45" = 3.7148
  dimension "d48" = 33.1603
  dimension "d49" = 50.338
  dimension "d50" = 16.5802
  dimension "d51" = 25.169
  dimension "d53" = 10.4265
  dimension "d54" = 10.4265
  dimension "d55" = 10.4265
  dimension "d56" = 10.4265
  dimension "d57" = 10.4265
  dimension "d58" = 10.4265
  dimension "d61" = 59.957
  dimension "d62" = 47.021
extrude "Выдавливание8" cut sketch "Эскиз12" against normal through all
sketch "Эскиз13" plane through (0, 2.66, 0) normal (0, 1, 0) x (1, 0, 0)
  circle A0 centre (124.1994, 64.0459) radius 3
  circle A1 centre (30.7486, 82.7515) radius 1.5
  circle A2 centre (-72.43, -31) radius 1.5
  line L0 (-72.43, -31) -> (30.7486, 82.7515)
  line L1 (30.7486, 82.7515) -> (36.2927, 77.7227)
  circle A3 centre (36.2927, 77.7227) radius 2
  line L2 (-164.6688, -164.6688) -> (154.6363, 154.6363)
  circle A4 centre (77.7227, 36.2927) radius 2
  point P0 (0, 0)
  point P1 (0, 0)
  point P2 (129.0863, 44.2024)
  dimension "d63" = 6
  dimension "d64" = 7.485
  dimension "d65" = 4
hole "Отверстие1" at (77.7227, 2.66, -36.2927) at (36.2927, 2.66, -77.7227) direction (0, -1, 0) diameter 6.5 end through all
sketch "Эскиз14" plane through (0, 2.66, 0) normal (0, 1, 0) x (1, 0, 0)
  line L0 (-38.2545, -11.9501) -> (-11.9501, -38.2545)
  line L1 (-11.9501, -38.2545) -> (38.2545, 11.9501)
  line L2 (38.2545, 11.9501) -> (11.9501, 38.2545)
  line L3 (11.9501, 38.2545) -> (-38.2545, -11.9501)
  line L4 (-38.2545, -11.9501) -> (38.2545, 11.9501) construction
  line L5 (-11.9501, -38.2545) -> (11.9501, 38.2545) construction
  line L6 (47.0226, 10.253) -> (-10.253, -47.0226) construction
  line L7 (37.5474, 11.9501) -> (11.9501, 37.5474)
  line L8 (11.9501, 37.5474) -> (-37.5474, -11.9501)
  line L9 (-37.5474, -11.9501) -> (-11.9501, -37.5474)
  line L10 (-11.9501, -37.5474) -> (37.5474, 11.9501)
  line L11 (37.5474, 11.9501) -> (-37.5474, -11.9501) construction
  line L12 (32.5976, 11.243) -> (-11.243, -32.5976)
  line L13 (0, 0) -> (31.7322, -31.7322) construction
  circle A0 centre (32.5976, 11.243) radius 1.5
  line L14 (0, 0) -> (31.7322, 31.7322) construction
  line L15 (0, 0) -> (-9.9, 29) construction
  circle A1 centre (11.243, 32.5976) radius 1.5
  circle A2 centre (-11.243, -32.5976) radius 1.5
  circle A3 centre (-32.5976, -11.243) radius 1.5
  point P0 (0, 0)
  point P1 (10.6773, -10.6773)
  point P2 (-4.9797, 4.9797)
  point P3 (0, 0)
  dimension "d73" = 37.2
  dimension "d74" = 71
  dimension "d77" = 36.2
  dimension "d78" = 70
  dimension "d79" = 4
  dimension "d80" = 3
  dimension "d81" = 3
  dimension "d82" = 3
  dimension "d83" = 4
hole "Отверстие2" at (32.5976, 2.66, -11.243) at (-11.243, 2.66, 32.5976) at (-32.5976, 2.66, 11.243) at (11.243, 2.66, -32.5976) direction (0, -1, 0) diameter 6.5 end through all
equation "\"d38\" = d37"
equation "\"d39\" = d37"
equation "\"d40\" = d37"
equation "\"d8\" = d7"
equation "\"d9\" = d7"
equation "\"d10\" = d9"
equation "\"d11\" = d7"
equation "\"d12\" = d11"
properties part number "motherBoard_ыефтв"
